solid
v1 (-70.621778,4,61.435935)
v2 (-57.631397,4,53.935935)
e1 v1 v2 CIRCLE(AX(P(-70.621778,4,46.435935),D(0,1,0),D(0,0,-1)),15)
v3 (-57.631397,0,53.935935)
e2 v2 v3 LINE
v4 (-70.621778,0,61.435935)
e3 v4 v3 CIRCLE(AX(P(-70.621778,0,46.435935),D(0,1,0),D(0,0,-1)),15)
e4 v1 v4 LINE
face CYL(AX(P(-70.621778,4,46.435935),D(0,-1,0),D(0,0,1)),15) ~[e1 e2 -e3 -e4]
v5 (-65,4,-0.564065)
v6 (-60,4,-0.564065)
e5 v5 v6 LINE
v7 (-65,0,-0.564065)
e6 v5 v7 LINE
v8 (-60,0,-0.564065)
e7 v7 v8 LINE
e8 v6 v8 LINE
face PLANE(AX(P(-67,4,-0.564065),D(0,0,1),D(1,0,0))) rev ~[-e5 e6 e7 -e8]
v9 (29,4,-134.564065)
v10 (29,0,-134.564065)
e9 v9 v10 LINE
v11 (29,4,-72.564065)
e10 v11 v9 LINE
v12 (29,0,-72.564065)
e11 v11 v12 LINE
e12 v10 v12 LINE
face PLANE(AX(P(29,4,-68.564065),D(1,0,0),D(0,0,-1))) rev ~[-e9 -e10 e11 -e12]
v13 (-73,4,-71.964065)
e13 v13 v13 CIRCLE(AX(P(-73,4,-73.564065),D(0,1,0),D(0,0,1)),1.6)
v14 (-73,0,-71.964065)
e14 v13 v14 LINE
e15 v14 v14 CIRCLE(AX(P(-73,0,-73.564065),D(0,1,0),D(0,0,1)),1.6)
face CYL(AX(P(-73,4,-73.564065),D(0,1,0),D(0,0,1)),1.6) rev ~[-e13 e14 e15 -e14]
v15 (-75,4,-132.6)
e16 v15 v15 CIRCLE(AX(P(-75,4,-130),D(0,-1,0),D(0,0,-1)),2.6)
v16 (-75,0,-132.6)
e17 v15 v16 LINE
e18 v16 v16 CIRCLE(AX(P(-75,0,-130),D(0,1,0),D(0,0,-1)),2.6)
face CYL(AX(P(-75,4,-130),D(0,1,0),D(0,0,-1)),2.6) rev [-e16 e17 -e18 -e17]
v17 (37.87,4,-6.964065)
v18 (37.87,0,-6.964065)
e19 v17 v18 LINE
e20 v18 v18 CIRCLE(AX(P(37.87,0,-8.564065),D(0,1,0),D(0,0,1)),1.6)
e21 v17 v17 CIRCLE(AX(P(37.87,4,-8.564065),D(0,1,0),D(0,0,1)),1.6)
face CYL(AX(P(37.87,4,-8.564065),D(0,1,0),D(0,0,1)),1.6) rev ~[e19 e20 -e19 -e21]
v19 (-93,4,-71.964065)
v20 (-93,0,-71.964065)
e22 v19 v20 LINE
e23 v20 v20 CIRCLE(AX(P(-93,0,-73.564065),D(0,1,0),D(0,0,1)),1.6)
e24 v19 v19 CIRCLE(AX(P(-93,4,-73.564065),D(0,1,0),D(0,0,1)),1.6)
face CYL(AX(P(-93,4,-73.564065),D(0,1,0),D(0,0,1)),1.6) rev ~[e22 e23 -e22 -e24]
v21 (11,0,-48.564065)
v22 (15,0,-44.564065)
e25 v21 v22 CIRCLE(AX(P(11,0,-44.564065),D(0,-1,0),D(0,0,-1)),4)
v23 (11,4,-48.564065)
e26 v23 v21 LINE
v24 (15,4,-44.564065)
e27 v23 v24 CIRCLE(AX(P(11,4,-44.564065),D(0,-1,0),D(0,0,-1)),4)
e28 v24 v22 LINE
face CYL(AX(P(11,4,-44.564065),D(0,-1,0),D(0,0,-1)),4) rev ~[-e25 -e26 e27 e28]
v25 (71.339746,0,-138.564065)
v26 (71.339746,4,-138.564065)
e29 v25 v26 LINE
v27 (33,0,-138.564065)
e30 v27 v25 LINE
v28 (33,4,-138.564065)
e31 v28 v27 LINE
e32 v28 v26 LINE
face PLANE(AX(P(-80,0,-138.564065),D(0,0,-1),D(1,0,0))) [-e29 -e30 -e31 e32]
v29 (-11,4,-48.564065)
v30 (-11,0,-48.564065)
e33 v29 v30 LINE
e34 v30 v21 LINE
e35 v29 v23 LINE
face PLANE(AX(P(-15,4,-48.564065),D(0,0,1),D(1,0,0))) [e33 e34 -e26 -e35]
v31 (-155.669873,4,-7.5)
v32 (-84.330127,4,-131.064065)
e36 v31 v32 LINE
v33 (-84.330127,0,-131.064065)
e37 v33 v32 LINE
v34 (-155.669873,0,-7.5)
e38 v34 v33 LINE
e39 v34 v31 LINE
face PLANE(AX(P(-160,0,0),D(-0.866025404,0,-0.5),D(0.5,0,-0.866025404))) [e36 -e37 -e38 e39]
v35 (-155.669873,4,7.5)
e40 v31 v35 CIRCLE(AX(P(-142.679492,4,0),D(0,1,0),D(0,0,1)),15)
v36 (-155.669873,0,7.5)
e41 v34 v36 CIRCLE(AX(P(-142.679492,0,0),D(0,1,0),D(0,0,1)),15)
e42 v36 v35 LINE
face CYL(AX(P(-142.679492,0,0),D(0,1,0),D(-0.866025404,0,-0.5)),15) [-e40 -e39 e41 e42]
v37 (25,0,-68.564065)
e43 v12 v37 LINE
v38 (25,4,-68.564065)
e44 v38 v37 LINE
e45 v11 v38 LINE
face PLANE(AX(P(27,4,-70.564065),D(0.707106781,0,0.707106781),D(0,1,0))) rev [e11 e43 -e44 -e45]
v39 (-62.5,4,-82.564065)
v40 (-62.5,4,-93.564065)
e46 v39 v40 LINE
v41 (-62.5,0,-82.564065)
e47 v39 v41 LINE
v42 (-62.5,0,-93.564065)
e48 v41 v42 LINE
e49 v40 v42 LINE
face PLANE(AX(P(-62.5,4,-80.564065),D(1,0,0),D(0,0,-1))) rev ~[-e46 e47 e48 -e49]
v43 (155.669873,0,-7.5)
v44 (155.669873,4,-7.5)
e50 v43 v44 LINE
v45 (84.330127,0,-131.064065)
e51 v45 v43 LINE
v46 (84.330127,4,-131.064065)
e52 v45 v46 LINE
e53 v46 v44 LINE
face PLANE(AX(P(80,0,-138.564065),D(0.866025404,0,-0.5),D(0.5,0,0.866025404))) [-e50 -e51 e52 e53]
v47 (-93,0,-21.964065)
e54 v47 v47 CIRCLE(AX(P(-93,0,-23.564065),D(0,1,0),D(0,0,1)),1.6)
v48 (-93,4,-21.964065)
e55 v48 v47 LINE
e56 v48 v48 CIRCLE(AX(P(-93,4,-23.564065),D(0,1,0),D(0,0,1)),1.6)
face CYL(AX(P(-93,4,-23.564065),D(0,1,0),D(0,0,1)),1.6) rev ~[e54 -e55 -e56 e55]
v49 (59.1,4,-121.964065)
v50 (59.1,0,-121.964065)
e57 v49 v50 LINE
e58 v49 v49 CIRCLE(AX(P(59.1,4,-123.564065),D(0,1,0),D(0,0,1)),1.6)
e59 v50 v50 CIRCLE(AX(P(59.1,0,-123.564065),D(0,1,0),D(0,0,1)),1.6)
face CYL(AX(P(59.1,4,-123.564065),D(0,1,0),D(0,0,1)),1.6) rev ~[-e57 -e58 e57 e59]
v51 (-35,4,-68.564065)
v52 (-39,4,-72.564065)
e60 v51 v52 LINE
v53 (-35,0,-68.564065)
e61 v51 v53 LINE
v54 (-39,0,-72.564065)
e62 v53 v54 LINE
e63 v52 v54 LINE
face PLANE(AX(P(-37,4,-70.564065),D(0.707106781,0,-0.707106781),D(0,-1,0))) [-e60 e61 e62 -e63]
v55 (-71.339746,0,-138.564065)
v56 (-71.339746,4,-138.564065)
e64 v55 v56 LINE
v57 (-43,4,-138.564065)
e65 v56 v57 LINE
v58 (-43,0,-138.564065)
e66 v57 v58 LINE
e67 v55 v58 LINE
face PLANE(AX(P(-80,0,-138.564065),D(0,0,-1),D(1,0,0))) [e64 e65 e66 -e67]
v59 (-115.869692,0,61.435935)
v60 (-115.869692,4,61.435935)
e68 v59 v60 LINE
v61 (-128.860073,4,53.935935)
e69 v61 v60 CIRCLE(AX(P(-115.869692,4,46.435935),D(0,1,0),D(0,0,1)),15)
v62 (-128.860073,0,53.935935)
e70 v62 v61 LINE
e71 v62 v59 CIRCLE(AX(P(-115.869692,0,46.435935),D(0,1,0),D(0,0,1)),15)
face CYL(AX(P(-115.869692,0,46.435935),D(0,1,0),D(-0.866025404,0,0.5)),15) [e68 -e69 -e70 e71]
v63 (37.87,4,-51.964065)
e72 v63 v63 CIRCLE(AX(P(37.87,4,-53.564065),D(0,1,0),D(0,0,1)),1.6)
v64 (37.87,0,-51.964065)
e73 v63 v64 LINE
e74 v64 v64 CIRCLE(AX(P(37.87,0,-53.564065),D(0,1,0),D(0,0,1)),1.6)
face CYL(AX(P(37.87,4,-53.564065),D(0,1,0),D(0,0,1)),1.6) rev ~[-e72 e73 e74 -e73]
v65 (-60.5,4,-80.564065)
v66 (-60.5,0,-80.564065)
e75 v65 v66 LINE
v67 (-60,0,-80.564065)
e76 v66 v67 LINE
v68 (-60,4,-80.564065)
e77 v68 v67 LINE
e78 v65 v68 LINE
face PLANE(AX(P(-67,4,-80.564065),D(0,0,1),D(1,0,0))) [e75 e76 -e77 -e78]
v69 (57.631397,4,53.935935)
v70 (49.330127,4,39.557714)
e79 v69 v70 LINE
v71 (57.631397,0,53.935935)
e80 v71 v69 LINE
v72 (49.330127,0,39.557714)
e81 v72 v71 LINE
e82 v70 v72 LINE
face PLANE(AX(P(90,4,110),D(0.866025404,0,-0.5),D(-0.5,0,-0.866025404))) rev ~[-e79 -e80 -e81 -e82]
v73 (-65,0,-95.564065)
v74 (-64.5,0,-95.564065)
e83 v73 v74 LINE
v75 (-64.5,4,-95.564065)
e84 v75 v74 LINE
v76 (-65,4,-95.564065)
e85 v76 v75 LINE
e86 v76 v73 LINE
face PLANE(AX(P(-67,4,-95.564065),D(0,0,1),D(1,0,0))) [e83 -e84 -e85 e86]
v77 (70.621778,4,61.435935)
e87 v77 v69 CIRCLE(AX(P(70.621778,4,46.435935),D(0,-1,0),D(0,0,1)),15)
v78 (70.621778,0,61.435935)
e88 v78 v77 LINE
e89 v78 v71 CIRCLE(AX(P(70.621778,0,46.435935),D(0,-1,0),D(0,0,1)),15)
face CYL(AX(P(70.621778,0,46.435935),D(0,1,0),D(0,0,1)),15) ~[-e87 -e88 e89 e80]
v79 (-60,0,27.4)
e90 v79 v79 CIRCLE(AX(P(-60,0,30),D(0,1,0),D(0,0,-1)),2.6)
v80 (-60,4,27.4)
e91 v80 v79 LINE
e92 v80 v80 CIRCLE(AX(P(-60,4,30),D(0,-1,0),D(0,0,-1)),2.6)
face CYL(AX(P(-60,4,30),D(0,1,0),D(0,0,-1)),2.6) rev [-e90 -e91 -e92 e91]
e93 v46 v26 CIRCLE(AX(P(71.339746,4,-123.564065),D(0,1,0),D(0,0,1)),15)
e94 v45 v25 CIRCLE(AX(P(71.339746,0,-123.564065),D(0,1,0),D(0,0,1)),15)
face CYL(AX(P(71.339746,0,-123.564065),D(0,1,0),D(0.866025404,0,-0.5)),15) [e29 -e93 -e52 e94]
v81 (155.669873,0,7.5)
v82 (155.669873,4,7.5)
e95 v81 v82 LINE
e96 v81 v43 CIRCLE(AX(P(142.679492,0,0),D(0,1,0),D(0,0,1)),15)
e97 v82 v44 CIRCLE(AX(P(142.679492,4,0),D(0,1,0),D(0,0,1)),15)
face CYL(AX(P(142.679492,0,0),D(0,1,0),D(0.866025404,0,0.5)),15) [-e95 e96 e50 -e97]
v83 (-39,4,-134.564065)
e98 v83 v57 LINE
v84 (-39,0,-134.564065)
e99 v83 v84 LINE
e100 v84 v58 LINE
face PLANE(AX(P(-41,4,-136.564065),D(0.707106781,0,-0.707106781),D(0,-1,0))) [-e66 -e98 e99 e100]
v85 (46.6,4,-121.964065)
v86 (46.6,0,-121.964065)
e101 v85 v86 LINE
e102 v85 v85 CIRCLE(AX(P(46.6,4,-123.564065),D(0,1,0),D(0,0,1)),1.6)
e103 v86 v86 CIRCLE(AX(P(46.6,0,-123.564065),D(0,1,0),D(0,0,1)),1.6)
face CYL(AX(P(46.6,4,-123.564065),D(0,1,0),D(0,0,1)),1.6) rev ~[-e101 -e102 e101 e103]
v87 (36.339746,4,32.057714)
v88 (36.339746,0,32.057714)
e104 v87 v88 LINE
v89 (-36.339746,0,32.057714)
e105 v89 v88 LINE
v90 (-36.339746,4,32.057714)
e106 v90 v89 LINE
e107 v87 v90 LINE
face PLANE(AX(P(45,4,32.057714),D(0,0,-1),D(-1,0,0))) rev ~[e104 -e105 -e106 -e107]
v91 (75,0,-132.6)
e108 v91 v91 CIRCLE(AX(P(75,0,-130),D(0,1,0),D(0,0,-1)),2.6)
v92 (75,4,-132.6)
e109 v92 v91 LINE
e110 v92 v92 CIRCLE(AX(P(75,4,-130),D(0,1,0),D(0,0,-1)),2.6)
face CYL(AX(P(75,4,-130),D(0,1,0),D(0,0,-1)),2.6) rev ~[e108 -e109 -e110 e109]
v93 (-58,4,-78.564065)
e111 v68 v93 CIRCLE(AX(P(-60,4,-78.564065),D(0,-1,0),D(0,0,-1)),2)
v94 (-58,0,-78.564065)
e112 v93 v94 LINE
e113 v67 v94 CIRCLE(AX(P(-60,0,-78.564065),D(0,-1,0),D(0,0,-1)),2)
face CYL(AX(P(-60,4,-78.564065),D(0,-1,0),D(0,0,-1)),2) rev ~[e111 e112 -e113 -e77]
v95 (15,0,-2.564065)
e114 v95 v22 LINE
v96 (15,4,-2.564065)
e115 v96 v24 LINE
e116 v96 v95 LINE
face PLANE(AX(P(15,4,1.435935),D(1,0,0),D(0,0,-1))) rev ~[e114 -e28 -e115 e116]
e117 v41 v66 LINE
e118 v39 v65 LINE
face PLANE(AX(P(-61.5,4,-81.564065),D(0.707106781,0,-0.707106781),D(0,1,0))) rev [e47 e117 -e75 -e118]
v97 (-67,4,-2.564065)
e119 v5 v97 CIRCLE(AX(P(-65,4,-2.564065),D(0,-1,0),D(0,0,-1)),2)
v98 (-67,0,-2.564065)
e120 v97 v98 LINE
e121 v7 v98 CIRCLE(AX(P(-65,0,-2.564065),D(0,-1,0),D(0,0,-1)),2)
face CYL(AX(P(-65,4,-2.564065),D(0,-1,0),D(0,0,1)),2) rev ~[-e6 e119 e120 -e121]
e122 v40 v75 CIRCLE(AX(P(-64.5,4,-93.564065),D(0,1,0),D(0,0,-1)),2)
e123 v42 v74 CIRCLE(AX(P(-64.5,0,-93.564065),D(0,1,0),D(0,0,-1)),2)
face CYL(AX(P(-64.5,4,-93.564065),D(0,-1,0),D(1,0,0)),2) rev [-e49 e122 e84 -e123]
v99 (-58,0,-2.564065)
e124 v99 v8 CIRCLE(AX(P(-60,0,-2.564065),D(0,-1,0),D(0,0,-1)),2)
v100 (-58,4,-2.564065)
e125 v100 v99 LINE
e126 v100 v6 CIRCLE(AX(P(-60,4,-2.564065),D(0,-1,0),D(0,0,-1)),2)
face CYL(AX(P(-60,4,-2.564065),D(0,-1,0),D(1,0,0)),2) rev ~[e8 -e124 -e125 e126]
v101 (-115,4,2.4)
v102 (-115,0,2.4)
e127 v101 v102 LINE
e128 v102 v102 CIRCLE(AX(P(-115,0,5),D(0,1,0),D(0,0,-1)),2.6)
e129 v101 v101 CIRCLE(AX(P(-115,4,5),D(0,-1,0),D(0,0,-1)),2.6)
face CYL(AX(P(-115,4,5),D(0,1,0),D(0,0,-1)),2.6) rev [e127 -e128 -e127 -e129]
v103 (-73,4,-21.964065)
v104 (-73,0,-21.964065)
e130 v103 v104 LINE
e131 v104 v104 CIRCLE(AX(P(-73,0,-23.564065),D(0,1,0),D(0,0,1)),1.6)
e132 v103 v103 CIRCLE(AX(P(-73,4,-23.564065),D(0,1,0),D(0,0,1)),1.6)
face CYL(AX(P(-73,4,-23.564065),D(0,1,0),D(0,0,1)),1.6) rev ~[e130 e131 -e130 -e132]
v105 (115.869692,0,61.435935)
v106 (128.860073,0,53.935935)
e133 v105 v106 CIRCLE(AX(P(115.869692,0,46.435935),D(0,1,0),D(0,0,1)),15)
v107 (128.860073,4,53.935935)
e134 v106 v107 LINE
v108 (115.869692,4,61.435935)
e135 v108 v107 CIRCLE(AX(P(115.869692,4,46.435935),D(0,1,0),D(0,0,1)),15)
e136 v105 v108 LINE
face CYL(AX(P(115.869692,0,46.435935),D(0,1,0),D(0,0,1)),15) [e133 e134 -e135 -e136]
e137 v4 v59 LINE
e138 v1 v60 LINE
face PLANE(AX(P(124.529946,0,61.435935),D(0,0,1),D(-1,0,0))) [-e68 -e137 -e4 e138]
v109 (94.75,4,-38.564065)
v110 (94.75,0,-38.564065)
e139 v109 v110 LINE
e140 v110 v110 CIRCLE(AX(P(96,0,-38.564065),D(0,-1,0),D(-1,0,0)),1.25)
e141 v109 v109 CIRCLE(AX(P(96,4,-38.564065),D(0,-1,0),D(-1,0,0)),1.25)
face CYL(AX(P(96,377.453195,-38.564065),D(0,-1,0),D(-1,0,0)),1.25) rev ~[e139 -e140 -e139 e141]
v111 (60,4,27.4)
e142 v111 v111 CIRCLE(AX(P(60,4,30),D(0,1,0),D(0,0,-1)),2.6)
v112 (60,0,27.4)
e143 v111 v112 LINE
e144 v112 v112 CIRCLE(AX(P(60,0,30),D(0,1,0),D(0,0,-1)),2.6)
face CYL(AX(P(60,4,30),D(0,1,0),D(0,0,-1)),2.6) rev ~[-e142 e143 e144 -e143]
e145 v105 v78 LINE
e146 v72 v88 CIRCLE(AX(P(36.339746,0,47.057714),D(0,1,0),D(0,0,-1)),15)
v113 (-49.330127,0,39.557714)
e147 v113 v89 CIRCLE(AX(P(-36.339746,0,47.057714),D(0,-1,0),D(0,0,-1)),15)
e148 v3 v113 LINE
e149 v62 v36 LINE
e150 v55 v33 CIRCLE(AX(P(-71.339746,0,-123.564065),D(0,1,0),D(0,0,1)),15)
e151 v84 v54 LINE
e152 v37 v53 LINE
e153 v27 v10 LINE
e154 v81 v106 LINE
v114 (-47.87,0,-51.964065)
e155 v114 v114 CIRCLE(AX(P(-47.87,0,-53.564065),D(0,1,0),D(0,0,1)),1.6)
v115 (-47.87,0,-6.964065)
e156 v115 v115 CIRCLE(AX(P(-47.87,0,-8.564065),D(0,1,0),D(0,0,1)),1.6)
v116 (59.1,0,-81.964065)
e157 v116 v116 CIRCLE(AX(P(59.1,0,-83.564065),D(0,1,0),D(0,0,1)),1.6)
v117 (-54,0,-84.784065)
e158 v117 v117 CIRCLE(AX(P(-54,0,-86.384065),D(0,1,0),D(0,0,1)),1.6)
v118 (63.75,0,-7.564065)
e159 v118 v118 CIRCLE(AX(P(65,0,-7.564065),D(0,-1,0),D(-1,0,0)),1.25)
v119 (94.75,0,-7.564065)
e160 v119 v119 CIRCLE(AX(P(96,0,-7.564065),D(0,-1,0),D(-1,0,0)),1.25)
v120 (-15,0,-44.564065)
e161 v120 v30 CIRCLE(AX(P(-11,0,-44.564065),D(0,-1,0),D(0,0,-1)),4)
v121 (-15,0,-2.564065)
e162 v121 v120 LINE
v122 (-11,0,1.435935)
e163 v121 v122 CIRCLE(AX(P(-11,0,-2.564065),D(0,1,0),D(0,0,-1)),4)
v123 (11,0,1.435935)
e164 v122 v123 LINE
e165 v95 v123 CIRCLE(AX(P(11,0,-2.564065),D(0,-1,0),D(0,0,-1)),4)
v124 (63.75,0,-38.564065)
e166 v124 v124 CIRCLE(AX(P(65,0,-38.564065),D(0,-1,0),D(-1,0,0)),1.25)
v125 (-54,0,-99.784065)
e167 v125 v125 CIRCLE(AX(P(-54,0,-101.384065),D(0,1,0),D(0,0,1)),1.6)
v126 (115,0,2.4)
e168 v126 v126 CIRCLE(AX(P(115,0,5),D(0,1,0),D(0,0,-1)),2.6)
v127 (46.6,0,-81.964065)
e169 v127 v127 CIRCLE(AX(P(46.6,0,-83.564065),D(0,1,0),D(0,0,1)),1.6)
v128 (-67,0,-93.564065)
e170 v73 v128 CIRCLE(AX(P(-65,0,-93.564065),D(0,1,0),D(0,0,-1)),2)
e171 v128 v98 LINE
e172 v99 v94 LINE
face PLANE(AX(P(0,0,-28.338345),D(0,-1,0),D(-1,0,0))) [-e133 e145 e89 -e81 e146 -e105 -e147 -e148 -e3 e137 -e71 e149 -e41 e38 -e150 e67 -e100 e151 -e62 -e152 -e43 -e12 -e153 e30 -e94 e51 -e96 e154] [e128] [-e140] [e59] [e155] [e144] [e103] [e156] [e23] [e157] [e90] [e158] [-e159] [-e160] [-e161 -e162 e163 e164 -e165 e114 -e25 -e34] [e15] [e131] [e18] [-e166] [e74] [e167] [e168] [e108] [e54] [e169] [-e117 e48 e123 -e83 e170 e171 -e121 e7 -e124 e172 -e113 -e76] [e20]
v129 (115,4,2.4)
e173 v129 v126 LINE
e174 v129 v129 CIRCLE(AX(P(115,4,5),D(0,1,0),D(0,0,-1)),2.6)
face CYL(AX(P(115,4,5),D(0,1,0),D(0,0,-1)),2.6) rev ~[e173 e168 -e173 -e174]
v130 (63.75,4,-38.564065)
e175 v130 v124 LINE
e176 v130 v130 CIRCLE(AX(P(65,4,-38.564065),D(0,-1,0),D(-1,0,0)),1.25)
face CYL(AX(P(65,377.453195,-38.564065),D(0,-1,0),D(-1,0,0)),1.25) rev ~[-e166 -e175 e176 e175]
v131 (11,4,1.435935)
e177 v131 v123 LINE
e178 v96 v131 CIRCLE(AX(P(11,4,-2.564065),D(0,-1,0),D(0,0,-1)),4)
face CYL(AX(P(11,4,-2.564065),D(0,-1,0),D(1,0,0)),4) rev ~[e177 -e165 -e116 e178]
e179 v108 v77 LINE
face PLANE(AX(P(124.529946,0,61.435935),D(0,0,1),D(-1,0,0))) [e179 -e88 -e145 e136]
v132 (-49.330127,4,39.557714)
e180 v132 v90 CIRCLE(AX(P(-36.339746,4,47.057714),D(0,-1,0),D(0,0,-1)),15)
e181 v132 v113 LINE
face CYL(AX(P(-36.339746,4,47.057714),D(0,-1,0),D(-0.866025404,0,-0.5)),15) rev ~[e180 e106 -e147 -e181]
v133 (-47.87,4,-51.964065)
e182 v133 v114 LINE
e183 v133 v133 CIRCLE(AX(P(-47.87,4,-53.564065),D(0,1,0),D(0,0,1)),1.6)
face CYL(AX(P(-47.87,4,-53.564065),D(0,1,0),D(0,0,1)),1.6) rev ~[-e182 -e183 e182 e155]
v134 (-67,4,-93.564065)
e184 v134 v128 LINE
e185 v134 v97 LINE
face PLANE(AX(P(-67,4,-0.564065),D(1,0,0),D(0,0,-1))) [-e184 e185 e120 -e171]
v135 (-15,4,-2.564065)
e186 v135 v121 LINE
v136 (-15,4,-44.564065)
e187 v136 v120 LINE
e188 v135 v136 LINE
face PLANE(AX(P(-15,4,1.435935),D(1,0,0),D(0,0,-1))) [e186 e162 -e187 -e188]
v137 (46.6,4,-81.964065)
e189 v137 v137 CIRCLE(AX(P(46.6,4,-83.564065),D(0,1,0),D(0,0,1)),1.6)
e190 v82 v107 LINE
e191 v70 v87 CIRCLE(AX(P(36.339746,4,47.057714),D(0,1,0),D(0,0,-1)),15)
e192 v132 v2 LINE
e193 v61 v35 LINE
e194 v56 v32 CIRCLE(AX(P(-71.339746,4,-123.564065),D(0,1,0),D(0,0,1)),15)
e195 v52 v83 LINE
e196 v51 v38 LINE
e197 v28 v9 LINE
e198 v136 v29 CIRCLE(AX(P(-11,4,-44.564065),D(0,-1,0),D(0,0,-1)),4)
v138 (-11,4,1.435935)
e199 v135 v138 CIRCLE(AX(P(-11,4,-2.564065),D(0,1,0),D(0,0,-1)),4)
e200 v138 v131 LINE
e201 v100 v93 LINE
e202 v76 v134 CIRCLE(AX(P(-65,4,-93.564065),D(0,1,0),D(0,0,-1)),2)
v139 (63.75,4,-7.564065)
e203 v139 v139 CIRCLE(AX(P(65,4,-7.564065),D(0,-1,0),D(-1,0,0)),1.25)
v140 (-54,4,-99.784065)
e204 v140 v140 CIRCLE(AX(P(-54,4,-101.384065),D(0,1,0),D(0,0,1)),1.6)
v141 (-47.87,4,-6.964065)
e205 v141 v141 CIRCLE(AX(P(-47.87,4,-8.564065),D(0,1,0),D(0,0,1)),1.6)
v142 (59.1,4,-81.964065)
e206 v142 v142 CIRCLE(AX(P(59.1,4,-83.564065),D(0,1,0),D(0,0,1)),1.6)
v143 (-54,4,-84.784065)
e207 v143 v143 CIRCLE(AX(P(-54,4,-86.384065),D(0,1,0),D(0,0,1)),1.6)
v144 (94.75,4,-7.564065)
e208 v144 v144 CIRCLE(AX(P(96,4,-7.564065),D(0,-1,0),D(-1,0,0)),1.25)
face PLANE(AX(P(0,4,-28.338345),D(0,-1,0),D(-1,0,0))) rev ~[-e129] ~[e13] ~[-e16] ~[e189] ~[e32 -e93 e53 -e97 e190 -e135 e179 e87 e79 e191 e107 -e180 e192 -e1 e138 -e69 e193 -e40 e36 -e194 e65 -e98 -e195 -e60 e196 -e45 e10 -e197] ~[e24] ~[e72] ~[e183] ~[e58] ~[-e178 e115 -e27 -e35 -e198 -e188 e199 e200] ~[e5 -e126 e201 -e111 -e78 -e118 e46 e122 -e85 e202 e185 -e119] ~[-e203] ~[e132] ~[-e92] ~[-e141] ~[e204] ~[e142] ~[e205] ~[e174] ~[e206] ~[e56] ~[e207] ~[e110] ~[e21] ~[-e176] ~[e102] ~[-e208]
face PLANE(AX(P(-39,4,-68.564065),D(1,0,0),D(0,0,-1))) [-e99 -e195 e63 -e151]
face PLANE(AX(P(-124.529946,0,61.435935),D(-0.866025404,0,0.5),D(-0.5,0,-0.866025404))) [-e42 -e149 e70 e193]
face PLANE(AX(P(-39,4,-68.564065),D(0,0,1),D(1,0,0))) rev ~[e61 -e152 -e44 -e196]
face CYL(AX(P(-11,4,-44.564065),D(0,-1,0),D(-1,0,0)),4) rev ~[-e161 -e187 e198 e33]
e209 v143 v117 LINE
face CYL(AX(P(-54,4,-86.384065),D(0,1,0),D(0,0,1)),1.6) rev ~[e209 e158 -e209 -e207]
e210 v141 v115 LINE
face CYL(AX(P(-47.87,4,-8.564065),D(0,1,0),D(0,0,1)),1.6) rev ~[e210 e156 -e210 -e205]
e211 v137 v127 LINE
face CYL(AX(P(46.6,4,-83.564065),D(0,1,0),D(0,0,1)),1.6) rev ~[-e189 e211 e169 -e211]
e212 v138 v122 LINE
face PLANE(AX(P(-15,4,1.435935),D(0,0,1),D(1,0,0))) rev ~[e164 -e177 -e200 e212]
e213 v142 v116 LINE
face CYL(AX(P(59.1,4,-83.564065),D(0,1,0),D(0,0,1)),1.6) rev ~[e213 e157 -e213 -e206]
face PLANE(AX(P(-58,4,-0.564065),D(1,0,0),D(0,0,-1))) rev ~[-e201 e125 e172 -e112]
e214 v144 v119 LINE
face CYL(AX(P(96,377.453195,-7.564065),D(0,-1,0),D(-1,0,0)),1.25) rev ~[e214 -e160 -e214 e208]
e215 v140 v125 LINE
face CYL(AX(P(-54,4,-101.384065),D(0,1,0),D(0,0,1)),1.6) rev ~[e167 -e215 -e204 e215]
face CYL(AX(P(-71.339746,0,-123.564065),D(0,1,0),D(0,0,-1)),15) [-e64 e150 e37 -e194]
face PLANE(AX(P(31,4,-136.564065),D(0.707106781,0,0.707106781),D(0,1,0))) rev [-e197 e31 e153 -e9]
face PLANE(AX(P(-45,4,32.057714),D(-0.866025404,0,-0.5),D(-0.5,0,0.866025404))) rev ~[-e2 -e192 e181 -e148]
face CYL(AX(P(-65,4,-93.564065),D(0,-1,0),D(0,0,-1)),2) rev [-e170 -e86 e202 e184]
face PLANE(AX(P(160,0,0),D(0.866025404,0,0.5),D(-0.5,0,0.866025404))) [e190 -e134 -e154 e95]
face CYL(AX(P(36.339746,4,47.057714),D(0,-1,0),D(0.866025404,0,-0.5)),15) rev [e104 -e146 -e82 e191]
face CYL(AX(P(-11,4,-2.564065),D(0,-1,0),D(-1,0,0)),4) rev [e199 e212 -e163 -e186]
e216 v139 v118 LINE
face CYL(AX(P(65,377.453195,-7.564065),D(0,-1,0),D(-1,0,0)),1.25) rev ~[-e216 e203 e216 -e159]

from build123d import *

# Parameters (mm, degrees)
EXTRUDE_1_DEPTH             = 4
SKETCH_34_R                 = 2.6
CUT_EXTRUDE_2_DEPTH         = 209.459490918
CUT_EXTRUDE_3_DEPTH         = 212.697897958
FILLET_2_R                  = 15
SKETCH_37_R                 = 1.6
CUT_EXTRUDE_5_DEPTH         = 210.949570549
PATTERN_LINEAR_1_COUNT      = 2
PATTERN_LINEAR_1_PITCH      = 85.74
PATTERN_LINEAR_1_COUNT_DIR2 = 2
PATTERN_LINEAR_1_PITCH_DIR2 = 45
SKETCH_38_R                 = 1.6
CUT_EXTRUDE_6_DEPTH         = 210.949570549
PATTERN_LINEAR_2_COUNT      = 2
PATTERN_LINEAR_2_PITCH      = 20
PATTERN_LINEAR_2_COUNT_DIR2 = 2
PATTERN_LINEAR_2_PITCH_DIR2 = 50
SKETCH_39_W                 = 68
SKETCH_39_H                 = 70
CUT_EXTRUDE_7_DEPTH         = 210.949570549
CHAMFER_1_SIZE              = 4
CUT_EXTRUDE_9_REACH         = 211.95
SKETCH_41_R                 = 1.6
SKETCH_42_R                 = 1.6
CUT_EXTRUDE_10_DEPTH        = 210.949570549
CUT_EXTRUDE_11_REACH        = 211.95
SKETCH_43_W                 = 30
SKETCH_43_H                 = 50
FILLET_3_R                  = 4
CUT_EXTRUDE_12_REACH        = 211.95
SKETCH_44_W                 = 9
SKETCH_44_H                 = 80
M3X0_5_1_D                  = 2.5
CUT_EXTRUDE_13_REACH        = 211.95
SKETCH_48_W                 = 4.5
SKETCH_48_H                 = 15
CHAMFER_2_SIZE              = 2
FILLET_8_R                  = 2


with BuildPart() as part:
    # 草圖1 → 填料-伸長1 (new body)
    with BuildSketch(Plane(origin=(0, 0, 0), x_dir=(1, 0, 0), z_dir=(0, 1, 0))):
        Polygon((124.529946162, -61.435935394), (-124.529946162, -61.435935394), (-160, 0), (-80, 138.564064606), (80, 138.564064606), (160, 0), align=None)
    extrude(amount=EXTRUDE_1_DEPTH)

    # 草圖34 → 除料-伸長2 (cut, through all)
    with BuildSketch(Plane(origin=(0, 4, -5), x_dir=(1, 0, 0), z_dir=(0, -1, 0))):
        with Locations(Location((-60, 35, 0), (0, 0, 270))):
            Circle(SKETCH_34_R)
        with Locations(Location((-115, 10, 0), (0, 0, 270))):
            Circle(SKETCH_34_R)
        with Locations(Location((-75, -125, 0), (0, 0, 270))):
            Circle(SKETCH_34_R)
    cut_extrude_2 = extrude(amount=CUT_EXTRUDE_2_DEPTH, mode=Mode.SUBTRACT)

    # 鏡射1: 除料-伸長2 across plane
    add(cut_extrude_2.mirror(Plane(origin=(0, 0, 0), x_dir=(0, 0, 1), z_dir=(1, 0, 0))), mode=Mode.SUBTRACT)

    # 草圖35 → 除料-伸長3 (cut, through all)
    with BuildSketch(Plane(origin=(0, 4, 0), x_dir=(1, 0, 0), z_dir=(0, 1, 0))):
        Polygon((45, -32.057713659), (-45, -32.057713659), (-90, -110), (-45, -187.942286341), (45, -187.942286341), (90, -110), align=None)
    extrude(amount=-CUT_EXTRUDE_3_DEPTH, mode=Mode.SUBTRACT)

    # 圓角2
    fillet_2_edges = [part.edges().sort_by_distance(p)[0] for p in [
        (160, 2, 0),
        (124.529946162, 2, 61.435935394),
        (-124.529946162, 2, 61.435935394),
        (-160, 2, 0),
        (-80, 2, -138.564064606),
        (80, 2, -138.564064606),
        (61.961524227, 2, 61.435935394),
        (45, 2, 32.057713659),
        (-61.961524227, 2, 61.435935394),
        (-45, 2, 32.057713659),
    ]]
    fillet(fillet_2_edges, radius=FILLET_2_R)

    # 草圖37 → 除料-伸長5 (cut, through all)
    with BuildSketch(Plane(origin=(0, 4, 0), x_dir=(1, 0, 0), z_dir=(0, 1, 0))):
        with Locations(Location((37.87, 8.564064606, 0), (0, 0, 270))):
            Circle(SKETCH_37_R)
    cut_extrude_5 = extrude(amount=-CUT_EXTRUDE_5_DEPTH, mode=Mode.SUBTRACT)

    # 直線複製排列1: Cut-Extrude 5 2 × 2
    with Locations(*[(-i * PATTERN_LINEAR_1_PITCH, 0, -j * PATTERN_LINEAR_1_PITCH_DIR2) for i in range(PATTERN_LINEAR_1_COUNT) for j in range(PATTERN_LINEAR_1_COUNT_DIR2) if (i, j) != (0, 0)]):
        add(cut_extrude_5, mode=Mode.SUBTRACT)

    # 草圖38 → 除料-伸長6 (cut, through all)
    with BuildSketch(Plane(origin=(0, 4, 0), x_dir=(1, 0, 0), z_dir=(0, 1, 0))):
        with Locations(Location((-73, 73.564064606, 0), (0, 0, 270))):
            Circle(SKETCH_38_R)
    cut_extrude_6 = extrude(amount=-CUT_EXTRUDE_6_DEPTH, mode=Mode.SUBTRACT)

    # 直線複製排列2: Cut-Extrude 6 2 × 2
    with Locations(*[(-i * PATTERN_LINEAR_2_PITCH, 0, j * PATTERN_LINEAR_2_PITCH_DIR2) for i in range(PATTERN_LINEAR_2_COUNT) for j in range(PATTERN_LINEAR_2_COUNT_DIR2) if (i, j) != (0, 0)]):
        add(cut_extrude_6, mode=Mode.SUBTRACT)

    # 草圖39 → 除料-伸長7 (cut, through all)
    with BuildSketch(Plane(origin=(0, 4, 0), x_dir=(1, 0, 0), z_dir=(0, 1, 0))):
        with Locations((-5, 103.564064606)):
            Rectangle(SKETCH_39_W, SKETCH_39_H)
    extrude(amount=-CUT_EXTRUDE_7_DEPTH, mode=Mode.SUBTRACT)

    # 導角1
    chamfer_1_edges = [part.edges().sort_by_distance(p)[0] for p in [
        (29, 2, -138.564064606),
        (29, 2, -68.564064606),
        (-39, 2, -68.564064606),
        (-39, 2, -138.564064606),
    ]]
    chamfer(chamfer_1_edges, length=CHAMFER_1_SIZE)

    # 草圖41 → 除料-伸長9 (cut, up to next)
    with BuildSketch(Plane(origin=(0, 4, 0), x_dir=(1, 0, 0), z_dir=(0, 1, 0)), mode=Mode.PRIVATE) as cut_extrude_9_sk1:
        with Locations(Location((59.1, 123.564064606, 0), (0, 0, 270))):
            Circle(SKETCH_41_R)
    cut_extrude_9_tool1 = extrude(cut_extrude_9_sk1.sketch, amount=-CUT_EXTRUDE_9_REACH, mode=Mode.PRIVATE) & part.part
    # 草圖41 → 除料-伸長9 (cut, up to next)
    with BuildSketch(Plane(origin=(0, 4, 0), x_dir=(1, 0, 0), z_dir=(0, 1, 0)), mode=Mode.PRIVATE) as cut_extrude_9_sk2:
        with Locations(Location((46.6, 123.564064606, 0), (0, 0, 270))):
            Circle(SKETCH_41_R)
    cut_extrude_9_tool2 = extrude(cut_extrude_9_sk2.sketch, amount=-CUT_EXTRUDE_9_REACH, mode=Mode.PRIVATE) & part.part
    # 草圖41 → 除料-伸長9 (cut, up to next)
    with BuildSketch(Plane(origin=(0, 4, 0), x_dir=(1, 0, 0), z_dir=(0, 1, 0)), mode=Mode.PRIVATE) as cut_extrude_9_sk3:
        with Locations(Location((46.6, 83.564064606, 0), (0, 0, 270))):
            Circle(SKETCH_41_R)
    cut_extrude_9_tool3 = extrude(cut_extrude_9_sk3.sketch, amount=-CUT_EXTRUDE_9_REACH, mode=Mode.PRIVATE) & part.part
    # 草圖41 → 除料-伸長9 (cut, up to next)
    with BuildSketch(Plane(origin=(0, 4, 0), x_dir=(1, 0, 0), z_dir=(0, 1, 0)), mode=Mode.PRIVATE) as cut_extrude_9_sk4:
        with Locations(Location((59.1, 83.564064606, 0), (0, 0, 270))):
            Circle(SKETCH_41_R)
    cut_extrude_9_tool4 = extrude(cut_extrude_9_sk4.sketch, amount=-CUT_EXTRUDE_9_REACH, mode=Mode.PRIVATE) & part.part
    add(cut_extrude_9_tool1.solids().sort_by_distance((59.1, 4, -123.564065))[0], mode=Mode.SUBTRACT)
    add(cut_extrude_9_tool2.solids().sort_by_distance((46.6, 4, -123.564065))[0], mode=Mode.SUBTRACT)
    add(cut_extrude_9_tool3.solids().sort_by_distance((46.6, 4, -83.564065))[0], mode=Mode.SUBTRACT)
    add(cut_extrude_9_tool4.solids().sort_by_distance((59.1, 4, -83.564065))[0], mode=Mode.SUBTRACT)

    # 草圖42 → 除料-伸長10 (cut, through all)
    with BuildSketch(Plane(origin=(0, 4, 0), x_dir=(1, 0, 0), z_dir=(0, 1, 0))):
        with Locations(Location((-54, 101.384064606, 0), (0, 0, 270))):
            Circle(SKETCH_42_R)
        with Locations(Location((-54, 86.384064606, 0), (0, 0, 270))):
            Circle(SKETCH_42_R)
    extrude(amount=-CUT_EXTRUDE_10_DEPTH, mode=Mode.SUBTRACT)

    # 草圖43 → 除料-伸長11 (cut, up to next)
    with BuildSketch(Plane(origin=(0, 4, 0), x_dir=(1, 0, 0), z_dir=(0, 1, 0)), mode=Mode.PRIVATE) as cut_extrude_11_sk1:
        with Locations((0, 23.564064606)):
            Rectangle(SKETCH_43_W, SKETCH_43_H)
    cut_extrude_11_tool1 = extrude(cut_extrude_11_sk1.sketch, amount=-CUT_EXTRUDE_11_REACH, mode=Mode.PRIVATE) & part.part
    add(cut_extrude_11_tool1.solids().sort_by_distance((0, 4, -23.564065))[0], mode=Mode.SUBTRACT)

    # 圓角3
    fillet_3_edges = [part.edges().sort_by_distance(p)[0] for p in [
        (15, 2, -48.564064606),
        (15, 2, 1.435935394),
        (-15, 2, 1.435935394),
        (-15, 2, -48.564064606),
    ]]
    fillet(fillet_3_edges, radius=FILLET_3_R)

    # 草圖44 → 除料-伸長12 (cut, up to next)
    with BuildSketch(Plane(origin=(0, 4, 0), x_dir=(1, 0, 0), z_dir=(0, 1, 0)), mode=Mode.PRIVATE) as cut_extrude_12_sk1:
        with Locations((-62.5, 40.564064606)):
            Rectangle(SKETCH_44_W, SKETCH_44_H)
    cut_extrude_12_tool1 = extrude(cut_extrude_12_sk1.sketch, amount=-CUT_EXTRUDE_12_REACH, mode=Mode.PRIVATE) & part.part
    add(cut_extrude_12_tool1.solids().sort_by_distance((-62.5, 4, -40.564065))[0], mode=Mode.SUBTRACT)

    # M3x0.5 螺紋孔1 (through all)
    with Locations(Plane(origin=(0, 4, 0), x_dir=(1, 0, 0), z_dir=(0, 1, 0))):
        with Locations((96, 7.564064606), (65, 7.564064606), (65, 38.564064606), (96, 38.564064606)):
            Hole(M3X0_5_1_D / 2)

    # 草圖48 → 除料-伸長13 (cut, up to next)
    with BuildSketch(Plane(origin=(0, 4, 0), x_dir=(1, 0, 0), z_dir=(0, 1, 0)), mode=Mode.PRIVATE) as cut_extrude_13_sk1:
        with Locations((-64.75, 88.064064606)):
            Rectangle(SKETCH_48_W, SKETCH_48_H)
    cut_extrude_13_tool1 = extrude(cut_extrude_13_sk1.sketch, amount=-CUT_EXTRUDE_13_REACH, mode=Mode.PRIVATE) & part.part
    add(cut_extrude_13_tool1.solids().sort_by_distance((-64.75, 4, -88.064065))[0], mode=Mode.SUBTRACT)

    # 導角2
    chamfer_2_edges = [part.edges().sort_by_distance(p)[0] for p in [
        (-62.5, 2, -80.564064606),
    ]]
    chamfer(chamfer_2_edges, length=CHAMFER_2_SIZE)

    # 圓角8
    fillet_8_edges = [part.edges().sort_by_distance(p)[0] for p in [
        (-58, 2, -80.564064606),
        (-58, 2, -0.564064606),
        (-67, 2, -0.564064606),
        (-62.5, 2, -95.564064606),
        (-67, 2, -95.564064606),
    ]]
    fillet(fillet_8_edges, radius=FILLET_8_R)


solid = part.part
